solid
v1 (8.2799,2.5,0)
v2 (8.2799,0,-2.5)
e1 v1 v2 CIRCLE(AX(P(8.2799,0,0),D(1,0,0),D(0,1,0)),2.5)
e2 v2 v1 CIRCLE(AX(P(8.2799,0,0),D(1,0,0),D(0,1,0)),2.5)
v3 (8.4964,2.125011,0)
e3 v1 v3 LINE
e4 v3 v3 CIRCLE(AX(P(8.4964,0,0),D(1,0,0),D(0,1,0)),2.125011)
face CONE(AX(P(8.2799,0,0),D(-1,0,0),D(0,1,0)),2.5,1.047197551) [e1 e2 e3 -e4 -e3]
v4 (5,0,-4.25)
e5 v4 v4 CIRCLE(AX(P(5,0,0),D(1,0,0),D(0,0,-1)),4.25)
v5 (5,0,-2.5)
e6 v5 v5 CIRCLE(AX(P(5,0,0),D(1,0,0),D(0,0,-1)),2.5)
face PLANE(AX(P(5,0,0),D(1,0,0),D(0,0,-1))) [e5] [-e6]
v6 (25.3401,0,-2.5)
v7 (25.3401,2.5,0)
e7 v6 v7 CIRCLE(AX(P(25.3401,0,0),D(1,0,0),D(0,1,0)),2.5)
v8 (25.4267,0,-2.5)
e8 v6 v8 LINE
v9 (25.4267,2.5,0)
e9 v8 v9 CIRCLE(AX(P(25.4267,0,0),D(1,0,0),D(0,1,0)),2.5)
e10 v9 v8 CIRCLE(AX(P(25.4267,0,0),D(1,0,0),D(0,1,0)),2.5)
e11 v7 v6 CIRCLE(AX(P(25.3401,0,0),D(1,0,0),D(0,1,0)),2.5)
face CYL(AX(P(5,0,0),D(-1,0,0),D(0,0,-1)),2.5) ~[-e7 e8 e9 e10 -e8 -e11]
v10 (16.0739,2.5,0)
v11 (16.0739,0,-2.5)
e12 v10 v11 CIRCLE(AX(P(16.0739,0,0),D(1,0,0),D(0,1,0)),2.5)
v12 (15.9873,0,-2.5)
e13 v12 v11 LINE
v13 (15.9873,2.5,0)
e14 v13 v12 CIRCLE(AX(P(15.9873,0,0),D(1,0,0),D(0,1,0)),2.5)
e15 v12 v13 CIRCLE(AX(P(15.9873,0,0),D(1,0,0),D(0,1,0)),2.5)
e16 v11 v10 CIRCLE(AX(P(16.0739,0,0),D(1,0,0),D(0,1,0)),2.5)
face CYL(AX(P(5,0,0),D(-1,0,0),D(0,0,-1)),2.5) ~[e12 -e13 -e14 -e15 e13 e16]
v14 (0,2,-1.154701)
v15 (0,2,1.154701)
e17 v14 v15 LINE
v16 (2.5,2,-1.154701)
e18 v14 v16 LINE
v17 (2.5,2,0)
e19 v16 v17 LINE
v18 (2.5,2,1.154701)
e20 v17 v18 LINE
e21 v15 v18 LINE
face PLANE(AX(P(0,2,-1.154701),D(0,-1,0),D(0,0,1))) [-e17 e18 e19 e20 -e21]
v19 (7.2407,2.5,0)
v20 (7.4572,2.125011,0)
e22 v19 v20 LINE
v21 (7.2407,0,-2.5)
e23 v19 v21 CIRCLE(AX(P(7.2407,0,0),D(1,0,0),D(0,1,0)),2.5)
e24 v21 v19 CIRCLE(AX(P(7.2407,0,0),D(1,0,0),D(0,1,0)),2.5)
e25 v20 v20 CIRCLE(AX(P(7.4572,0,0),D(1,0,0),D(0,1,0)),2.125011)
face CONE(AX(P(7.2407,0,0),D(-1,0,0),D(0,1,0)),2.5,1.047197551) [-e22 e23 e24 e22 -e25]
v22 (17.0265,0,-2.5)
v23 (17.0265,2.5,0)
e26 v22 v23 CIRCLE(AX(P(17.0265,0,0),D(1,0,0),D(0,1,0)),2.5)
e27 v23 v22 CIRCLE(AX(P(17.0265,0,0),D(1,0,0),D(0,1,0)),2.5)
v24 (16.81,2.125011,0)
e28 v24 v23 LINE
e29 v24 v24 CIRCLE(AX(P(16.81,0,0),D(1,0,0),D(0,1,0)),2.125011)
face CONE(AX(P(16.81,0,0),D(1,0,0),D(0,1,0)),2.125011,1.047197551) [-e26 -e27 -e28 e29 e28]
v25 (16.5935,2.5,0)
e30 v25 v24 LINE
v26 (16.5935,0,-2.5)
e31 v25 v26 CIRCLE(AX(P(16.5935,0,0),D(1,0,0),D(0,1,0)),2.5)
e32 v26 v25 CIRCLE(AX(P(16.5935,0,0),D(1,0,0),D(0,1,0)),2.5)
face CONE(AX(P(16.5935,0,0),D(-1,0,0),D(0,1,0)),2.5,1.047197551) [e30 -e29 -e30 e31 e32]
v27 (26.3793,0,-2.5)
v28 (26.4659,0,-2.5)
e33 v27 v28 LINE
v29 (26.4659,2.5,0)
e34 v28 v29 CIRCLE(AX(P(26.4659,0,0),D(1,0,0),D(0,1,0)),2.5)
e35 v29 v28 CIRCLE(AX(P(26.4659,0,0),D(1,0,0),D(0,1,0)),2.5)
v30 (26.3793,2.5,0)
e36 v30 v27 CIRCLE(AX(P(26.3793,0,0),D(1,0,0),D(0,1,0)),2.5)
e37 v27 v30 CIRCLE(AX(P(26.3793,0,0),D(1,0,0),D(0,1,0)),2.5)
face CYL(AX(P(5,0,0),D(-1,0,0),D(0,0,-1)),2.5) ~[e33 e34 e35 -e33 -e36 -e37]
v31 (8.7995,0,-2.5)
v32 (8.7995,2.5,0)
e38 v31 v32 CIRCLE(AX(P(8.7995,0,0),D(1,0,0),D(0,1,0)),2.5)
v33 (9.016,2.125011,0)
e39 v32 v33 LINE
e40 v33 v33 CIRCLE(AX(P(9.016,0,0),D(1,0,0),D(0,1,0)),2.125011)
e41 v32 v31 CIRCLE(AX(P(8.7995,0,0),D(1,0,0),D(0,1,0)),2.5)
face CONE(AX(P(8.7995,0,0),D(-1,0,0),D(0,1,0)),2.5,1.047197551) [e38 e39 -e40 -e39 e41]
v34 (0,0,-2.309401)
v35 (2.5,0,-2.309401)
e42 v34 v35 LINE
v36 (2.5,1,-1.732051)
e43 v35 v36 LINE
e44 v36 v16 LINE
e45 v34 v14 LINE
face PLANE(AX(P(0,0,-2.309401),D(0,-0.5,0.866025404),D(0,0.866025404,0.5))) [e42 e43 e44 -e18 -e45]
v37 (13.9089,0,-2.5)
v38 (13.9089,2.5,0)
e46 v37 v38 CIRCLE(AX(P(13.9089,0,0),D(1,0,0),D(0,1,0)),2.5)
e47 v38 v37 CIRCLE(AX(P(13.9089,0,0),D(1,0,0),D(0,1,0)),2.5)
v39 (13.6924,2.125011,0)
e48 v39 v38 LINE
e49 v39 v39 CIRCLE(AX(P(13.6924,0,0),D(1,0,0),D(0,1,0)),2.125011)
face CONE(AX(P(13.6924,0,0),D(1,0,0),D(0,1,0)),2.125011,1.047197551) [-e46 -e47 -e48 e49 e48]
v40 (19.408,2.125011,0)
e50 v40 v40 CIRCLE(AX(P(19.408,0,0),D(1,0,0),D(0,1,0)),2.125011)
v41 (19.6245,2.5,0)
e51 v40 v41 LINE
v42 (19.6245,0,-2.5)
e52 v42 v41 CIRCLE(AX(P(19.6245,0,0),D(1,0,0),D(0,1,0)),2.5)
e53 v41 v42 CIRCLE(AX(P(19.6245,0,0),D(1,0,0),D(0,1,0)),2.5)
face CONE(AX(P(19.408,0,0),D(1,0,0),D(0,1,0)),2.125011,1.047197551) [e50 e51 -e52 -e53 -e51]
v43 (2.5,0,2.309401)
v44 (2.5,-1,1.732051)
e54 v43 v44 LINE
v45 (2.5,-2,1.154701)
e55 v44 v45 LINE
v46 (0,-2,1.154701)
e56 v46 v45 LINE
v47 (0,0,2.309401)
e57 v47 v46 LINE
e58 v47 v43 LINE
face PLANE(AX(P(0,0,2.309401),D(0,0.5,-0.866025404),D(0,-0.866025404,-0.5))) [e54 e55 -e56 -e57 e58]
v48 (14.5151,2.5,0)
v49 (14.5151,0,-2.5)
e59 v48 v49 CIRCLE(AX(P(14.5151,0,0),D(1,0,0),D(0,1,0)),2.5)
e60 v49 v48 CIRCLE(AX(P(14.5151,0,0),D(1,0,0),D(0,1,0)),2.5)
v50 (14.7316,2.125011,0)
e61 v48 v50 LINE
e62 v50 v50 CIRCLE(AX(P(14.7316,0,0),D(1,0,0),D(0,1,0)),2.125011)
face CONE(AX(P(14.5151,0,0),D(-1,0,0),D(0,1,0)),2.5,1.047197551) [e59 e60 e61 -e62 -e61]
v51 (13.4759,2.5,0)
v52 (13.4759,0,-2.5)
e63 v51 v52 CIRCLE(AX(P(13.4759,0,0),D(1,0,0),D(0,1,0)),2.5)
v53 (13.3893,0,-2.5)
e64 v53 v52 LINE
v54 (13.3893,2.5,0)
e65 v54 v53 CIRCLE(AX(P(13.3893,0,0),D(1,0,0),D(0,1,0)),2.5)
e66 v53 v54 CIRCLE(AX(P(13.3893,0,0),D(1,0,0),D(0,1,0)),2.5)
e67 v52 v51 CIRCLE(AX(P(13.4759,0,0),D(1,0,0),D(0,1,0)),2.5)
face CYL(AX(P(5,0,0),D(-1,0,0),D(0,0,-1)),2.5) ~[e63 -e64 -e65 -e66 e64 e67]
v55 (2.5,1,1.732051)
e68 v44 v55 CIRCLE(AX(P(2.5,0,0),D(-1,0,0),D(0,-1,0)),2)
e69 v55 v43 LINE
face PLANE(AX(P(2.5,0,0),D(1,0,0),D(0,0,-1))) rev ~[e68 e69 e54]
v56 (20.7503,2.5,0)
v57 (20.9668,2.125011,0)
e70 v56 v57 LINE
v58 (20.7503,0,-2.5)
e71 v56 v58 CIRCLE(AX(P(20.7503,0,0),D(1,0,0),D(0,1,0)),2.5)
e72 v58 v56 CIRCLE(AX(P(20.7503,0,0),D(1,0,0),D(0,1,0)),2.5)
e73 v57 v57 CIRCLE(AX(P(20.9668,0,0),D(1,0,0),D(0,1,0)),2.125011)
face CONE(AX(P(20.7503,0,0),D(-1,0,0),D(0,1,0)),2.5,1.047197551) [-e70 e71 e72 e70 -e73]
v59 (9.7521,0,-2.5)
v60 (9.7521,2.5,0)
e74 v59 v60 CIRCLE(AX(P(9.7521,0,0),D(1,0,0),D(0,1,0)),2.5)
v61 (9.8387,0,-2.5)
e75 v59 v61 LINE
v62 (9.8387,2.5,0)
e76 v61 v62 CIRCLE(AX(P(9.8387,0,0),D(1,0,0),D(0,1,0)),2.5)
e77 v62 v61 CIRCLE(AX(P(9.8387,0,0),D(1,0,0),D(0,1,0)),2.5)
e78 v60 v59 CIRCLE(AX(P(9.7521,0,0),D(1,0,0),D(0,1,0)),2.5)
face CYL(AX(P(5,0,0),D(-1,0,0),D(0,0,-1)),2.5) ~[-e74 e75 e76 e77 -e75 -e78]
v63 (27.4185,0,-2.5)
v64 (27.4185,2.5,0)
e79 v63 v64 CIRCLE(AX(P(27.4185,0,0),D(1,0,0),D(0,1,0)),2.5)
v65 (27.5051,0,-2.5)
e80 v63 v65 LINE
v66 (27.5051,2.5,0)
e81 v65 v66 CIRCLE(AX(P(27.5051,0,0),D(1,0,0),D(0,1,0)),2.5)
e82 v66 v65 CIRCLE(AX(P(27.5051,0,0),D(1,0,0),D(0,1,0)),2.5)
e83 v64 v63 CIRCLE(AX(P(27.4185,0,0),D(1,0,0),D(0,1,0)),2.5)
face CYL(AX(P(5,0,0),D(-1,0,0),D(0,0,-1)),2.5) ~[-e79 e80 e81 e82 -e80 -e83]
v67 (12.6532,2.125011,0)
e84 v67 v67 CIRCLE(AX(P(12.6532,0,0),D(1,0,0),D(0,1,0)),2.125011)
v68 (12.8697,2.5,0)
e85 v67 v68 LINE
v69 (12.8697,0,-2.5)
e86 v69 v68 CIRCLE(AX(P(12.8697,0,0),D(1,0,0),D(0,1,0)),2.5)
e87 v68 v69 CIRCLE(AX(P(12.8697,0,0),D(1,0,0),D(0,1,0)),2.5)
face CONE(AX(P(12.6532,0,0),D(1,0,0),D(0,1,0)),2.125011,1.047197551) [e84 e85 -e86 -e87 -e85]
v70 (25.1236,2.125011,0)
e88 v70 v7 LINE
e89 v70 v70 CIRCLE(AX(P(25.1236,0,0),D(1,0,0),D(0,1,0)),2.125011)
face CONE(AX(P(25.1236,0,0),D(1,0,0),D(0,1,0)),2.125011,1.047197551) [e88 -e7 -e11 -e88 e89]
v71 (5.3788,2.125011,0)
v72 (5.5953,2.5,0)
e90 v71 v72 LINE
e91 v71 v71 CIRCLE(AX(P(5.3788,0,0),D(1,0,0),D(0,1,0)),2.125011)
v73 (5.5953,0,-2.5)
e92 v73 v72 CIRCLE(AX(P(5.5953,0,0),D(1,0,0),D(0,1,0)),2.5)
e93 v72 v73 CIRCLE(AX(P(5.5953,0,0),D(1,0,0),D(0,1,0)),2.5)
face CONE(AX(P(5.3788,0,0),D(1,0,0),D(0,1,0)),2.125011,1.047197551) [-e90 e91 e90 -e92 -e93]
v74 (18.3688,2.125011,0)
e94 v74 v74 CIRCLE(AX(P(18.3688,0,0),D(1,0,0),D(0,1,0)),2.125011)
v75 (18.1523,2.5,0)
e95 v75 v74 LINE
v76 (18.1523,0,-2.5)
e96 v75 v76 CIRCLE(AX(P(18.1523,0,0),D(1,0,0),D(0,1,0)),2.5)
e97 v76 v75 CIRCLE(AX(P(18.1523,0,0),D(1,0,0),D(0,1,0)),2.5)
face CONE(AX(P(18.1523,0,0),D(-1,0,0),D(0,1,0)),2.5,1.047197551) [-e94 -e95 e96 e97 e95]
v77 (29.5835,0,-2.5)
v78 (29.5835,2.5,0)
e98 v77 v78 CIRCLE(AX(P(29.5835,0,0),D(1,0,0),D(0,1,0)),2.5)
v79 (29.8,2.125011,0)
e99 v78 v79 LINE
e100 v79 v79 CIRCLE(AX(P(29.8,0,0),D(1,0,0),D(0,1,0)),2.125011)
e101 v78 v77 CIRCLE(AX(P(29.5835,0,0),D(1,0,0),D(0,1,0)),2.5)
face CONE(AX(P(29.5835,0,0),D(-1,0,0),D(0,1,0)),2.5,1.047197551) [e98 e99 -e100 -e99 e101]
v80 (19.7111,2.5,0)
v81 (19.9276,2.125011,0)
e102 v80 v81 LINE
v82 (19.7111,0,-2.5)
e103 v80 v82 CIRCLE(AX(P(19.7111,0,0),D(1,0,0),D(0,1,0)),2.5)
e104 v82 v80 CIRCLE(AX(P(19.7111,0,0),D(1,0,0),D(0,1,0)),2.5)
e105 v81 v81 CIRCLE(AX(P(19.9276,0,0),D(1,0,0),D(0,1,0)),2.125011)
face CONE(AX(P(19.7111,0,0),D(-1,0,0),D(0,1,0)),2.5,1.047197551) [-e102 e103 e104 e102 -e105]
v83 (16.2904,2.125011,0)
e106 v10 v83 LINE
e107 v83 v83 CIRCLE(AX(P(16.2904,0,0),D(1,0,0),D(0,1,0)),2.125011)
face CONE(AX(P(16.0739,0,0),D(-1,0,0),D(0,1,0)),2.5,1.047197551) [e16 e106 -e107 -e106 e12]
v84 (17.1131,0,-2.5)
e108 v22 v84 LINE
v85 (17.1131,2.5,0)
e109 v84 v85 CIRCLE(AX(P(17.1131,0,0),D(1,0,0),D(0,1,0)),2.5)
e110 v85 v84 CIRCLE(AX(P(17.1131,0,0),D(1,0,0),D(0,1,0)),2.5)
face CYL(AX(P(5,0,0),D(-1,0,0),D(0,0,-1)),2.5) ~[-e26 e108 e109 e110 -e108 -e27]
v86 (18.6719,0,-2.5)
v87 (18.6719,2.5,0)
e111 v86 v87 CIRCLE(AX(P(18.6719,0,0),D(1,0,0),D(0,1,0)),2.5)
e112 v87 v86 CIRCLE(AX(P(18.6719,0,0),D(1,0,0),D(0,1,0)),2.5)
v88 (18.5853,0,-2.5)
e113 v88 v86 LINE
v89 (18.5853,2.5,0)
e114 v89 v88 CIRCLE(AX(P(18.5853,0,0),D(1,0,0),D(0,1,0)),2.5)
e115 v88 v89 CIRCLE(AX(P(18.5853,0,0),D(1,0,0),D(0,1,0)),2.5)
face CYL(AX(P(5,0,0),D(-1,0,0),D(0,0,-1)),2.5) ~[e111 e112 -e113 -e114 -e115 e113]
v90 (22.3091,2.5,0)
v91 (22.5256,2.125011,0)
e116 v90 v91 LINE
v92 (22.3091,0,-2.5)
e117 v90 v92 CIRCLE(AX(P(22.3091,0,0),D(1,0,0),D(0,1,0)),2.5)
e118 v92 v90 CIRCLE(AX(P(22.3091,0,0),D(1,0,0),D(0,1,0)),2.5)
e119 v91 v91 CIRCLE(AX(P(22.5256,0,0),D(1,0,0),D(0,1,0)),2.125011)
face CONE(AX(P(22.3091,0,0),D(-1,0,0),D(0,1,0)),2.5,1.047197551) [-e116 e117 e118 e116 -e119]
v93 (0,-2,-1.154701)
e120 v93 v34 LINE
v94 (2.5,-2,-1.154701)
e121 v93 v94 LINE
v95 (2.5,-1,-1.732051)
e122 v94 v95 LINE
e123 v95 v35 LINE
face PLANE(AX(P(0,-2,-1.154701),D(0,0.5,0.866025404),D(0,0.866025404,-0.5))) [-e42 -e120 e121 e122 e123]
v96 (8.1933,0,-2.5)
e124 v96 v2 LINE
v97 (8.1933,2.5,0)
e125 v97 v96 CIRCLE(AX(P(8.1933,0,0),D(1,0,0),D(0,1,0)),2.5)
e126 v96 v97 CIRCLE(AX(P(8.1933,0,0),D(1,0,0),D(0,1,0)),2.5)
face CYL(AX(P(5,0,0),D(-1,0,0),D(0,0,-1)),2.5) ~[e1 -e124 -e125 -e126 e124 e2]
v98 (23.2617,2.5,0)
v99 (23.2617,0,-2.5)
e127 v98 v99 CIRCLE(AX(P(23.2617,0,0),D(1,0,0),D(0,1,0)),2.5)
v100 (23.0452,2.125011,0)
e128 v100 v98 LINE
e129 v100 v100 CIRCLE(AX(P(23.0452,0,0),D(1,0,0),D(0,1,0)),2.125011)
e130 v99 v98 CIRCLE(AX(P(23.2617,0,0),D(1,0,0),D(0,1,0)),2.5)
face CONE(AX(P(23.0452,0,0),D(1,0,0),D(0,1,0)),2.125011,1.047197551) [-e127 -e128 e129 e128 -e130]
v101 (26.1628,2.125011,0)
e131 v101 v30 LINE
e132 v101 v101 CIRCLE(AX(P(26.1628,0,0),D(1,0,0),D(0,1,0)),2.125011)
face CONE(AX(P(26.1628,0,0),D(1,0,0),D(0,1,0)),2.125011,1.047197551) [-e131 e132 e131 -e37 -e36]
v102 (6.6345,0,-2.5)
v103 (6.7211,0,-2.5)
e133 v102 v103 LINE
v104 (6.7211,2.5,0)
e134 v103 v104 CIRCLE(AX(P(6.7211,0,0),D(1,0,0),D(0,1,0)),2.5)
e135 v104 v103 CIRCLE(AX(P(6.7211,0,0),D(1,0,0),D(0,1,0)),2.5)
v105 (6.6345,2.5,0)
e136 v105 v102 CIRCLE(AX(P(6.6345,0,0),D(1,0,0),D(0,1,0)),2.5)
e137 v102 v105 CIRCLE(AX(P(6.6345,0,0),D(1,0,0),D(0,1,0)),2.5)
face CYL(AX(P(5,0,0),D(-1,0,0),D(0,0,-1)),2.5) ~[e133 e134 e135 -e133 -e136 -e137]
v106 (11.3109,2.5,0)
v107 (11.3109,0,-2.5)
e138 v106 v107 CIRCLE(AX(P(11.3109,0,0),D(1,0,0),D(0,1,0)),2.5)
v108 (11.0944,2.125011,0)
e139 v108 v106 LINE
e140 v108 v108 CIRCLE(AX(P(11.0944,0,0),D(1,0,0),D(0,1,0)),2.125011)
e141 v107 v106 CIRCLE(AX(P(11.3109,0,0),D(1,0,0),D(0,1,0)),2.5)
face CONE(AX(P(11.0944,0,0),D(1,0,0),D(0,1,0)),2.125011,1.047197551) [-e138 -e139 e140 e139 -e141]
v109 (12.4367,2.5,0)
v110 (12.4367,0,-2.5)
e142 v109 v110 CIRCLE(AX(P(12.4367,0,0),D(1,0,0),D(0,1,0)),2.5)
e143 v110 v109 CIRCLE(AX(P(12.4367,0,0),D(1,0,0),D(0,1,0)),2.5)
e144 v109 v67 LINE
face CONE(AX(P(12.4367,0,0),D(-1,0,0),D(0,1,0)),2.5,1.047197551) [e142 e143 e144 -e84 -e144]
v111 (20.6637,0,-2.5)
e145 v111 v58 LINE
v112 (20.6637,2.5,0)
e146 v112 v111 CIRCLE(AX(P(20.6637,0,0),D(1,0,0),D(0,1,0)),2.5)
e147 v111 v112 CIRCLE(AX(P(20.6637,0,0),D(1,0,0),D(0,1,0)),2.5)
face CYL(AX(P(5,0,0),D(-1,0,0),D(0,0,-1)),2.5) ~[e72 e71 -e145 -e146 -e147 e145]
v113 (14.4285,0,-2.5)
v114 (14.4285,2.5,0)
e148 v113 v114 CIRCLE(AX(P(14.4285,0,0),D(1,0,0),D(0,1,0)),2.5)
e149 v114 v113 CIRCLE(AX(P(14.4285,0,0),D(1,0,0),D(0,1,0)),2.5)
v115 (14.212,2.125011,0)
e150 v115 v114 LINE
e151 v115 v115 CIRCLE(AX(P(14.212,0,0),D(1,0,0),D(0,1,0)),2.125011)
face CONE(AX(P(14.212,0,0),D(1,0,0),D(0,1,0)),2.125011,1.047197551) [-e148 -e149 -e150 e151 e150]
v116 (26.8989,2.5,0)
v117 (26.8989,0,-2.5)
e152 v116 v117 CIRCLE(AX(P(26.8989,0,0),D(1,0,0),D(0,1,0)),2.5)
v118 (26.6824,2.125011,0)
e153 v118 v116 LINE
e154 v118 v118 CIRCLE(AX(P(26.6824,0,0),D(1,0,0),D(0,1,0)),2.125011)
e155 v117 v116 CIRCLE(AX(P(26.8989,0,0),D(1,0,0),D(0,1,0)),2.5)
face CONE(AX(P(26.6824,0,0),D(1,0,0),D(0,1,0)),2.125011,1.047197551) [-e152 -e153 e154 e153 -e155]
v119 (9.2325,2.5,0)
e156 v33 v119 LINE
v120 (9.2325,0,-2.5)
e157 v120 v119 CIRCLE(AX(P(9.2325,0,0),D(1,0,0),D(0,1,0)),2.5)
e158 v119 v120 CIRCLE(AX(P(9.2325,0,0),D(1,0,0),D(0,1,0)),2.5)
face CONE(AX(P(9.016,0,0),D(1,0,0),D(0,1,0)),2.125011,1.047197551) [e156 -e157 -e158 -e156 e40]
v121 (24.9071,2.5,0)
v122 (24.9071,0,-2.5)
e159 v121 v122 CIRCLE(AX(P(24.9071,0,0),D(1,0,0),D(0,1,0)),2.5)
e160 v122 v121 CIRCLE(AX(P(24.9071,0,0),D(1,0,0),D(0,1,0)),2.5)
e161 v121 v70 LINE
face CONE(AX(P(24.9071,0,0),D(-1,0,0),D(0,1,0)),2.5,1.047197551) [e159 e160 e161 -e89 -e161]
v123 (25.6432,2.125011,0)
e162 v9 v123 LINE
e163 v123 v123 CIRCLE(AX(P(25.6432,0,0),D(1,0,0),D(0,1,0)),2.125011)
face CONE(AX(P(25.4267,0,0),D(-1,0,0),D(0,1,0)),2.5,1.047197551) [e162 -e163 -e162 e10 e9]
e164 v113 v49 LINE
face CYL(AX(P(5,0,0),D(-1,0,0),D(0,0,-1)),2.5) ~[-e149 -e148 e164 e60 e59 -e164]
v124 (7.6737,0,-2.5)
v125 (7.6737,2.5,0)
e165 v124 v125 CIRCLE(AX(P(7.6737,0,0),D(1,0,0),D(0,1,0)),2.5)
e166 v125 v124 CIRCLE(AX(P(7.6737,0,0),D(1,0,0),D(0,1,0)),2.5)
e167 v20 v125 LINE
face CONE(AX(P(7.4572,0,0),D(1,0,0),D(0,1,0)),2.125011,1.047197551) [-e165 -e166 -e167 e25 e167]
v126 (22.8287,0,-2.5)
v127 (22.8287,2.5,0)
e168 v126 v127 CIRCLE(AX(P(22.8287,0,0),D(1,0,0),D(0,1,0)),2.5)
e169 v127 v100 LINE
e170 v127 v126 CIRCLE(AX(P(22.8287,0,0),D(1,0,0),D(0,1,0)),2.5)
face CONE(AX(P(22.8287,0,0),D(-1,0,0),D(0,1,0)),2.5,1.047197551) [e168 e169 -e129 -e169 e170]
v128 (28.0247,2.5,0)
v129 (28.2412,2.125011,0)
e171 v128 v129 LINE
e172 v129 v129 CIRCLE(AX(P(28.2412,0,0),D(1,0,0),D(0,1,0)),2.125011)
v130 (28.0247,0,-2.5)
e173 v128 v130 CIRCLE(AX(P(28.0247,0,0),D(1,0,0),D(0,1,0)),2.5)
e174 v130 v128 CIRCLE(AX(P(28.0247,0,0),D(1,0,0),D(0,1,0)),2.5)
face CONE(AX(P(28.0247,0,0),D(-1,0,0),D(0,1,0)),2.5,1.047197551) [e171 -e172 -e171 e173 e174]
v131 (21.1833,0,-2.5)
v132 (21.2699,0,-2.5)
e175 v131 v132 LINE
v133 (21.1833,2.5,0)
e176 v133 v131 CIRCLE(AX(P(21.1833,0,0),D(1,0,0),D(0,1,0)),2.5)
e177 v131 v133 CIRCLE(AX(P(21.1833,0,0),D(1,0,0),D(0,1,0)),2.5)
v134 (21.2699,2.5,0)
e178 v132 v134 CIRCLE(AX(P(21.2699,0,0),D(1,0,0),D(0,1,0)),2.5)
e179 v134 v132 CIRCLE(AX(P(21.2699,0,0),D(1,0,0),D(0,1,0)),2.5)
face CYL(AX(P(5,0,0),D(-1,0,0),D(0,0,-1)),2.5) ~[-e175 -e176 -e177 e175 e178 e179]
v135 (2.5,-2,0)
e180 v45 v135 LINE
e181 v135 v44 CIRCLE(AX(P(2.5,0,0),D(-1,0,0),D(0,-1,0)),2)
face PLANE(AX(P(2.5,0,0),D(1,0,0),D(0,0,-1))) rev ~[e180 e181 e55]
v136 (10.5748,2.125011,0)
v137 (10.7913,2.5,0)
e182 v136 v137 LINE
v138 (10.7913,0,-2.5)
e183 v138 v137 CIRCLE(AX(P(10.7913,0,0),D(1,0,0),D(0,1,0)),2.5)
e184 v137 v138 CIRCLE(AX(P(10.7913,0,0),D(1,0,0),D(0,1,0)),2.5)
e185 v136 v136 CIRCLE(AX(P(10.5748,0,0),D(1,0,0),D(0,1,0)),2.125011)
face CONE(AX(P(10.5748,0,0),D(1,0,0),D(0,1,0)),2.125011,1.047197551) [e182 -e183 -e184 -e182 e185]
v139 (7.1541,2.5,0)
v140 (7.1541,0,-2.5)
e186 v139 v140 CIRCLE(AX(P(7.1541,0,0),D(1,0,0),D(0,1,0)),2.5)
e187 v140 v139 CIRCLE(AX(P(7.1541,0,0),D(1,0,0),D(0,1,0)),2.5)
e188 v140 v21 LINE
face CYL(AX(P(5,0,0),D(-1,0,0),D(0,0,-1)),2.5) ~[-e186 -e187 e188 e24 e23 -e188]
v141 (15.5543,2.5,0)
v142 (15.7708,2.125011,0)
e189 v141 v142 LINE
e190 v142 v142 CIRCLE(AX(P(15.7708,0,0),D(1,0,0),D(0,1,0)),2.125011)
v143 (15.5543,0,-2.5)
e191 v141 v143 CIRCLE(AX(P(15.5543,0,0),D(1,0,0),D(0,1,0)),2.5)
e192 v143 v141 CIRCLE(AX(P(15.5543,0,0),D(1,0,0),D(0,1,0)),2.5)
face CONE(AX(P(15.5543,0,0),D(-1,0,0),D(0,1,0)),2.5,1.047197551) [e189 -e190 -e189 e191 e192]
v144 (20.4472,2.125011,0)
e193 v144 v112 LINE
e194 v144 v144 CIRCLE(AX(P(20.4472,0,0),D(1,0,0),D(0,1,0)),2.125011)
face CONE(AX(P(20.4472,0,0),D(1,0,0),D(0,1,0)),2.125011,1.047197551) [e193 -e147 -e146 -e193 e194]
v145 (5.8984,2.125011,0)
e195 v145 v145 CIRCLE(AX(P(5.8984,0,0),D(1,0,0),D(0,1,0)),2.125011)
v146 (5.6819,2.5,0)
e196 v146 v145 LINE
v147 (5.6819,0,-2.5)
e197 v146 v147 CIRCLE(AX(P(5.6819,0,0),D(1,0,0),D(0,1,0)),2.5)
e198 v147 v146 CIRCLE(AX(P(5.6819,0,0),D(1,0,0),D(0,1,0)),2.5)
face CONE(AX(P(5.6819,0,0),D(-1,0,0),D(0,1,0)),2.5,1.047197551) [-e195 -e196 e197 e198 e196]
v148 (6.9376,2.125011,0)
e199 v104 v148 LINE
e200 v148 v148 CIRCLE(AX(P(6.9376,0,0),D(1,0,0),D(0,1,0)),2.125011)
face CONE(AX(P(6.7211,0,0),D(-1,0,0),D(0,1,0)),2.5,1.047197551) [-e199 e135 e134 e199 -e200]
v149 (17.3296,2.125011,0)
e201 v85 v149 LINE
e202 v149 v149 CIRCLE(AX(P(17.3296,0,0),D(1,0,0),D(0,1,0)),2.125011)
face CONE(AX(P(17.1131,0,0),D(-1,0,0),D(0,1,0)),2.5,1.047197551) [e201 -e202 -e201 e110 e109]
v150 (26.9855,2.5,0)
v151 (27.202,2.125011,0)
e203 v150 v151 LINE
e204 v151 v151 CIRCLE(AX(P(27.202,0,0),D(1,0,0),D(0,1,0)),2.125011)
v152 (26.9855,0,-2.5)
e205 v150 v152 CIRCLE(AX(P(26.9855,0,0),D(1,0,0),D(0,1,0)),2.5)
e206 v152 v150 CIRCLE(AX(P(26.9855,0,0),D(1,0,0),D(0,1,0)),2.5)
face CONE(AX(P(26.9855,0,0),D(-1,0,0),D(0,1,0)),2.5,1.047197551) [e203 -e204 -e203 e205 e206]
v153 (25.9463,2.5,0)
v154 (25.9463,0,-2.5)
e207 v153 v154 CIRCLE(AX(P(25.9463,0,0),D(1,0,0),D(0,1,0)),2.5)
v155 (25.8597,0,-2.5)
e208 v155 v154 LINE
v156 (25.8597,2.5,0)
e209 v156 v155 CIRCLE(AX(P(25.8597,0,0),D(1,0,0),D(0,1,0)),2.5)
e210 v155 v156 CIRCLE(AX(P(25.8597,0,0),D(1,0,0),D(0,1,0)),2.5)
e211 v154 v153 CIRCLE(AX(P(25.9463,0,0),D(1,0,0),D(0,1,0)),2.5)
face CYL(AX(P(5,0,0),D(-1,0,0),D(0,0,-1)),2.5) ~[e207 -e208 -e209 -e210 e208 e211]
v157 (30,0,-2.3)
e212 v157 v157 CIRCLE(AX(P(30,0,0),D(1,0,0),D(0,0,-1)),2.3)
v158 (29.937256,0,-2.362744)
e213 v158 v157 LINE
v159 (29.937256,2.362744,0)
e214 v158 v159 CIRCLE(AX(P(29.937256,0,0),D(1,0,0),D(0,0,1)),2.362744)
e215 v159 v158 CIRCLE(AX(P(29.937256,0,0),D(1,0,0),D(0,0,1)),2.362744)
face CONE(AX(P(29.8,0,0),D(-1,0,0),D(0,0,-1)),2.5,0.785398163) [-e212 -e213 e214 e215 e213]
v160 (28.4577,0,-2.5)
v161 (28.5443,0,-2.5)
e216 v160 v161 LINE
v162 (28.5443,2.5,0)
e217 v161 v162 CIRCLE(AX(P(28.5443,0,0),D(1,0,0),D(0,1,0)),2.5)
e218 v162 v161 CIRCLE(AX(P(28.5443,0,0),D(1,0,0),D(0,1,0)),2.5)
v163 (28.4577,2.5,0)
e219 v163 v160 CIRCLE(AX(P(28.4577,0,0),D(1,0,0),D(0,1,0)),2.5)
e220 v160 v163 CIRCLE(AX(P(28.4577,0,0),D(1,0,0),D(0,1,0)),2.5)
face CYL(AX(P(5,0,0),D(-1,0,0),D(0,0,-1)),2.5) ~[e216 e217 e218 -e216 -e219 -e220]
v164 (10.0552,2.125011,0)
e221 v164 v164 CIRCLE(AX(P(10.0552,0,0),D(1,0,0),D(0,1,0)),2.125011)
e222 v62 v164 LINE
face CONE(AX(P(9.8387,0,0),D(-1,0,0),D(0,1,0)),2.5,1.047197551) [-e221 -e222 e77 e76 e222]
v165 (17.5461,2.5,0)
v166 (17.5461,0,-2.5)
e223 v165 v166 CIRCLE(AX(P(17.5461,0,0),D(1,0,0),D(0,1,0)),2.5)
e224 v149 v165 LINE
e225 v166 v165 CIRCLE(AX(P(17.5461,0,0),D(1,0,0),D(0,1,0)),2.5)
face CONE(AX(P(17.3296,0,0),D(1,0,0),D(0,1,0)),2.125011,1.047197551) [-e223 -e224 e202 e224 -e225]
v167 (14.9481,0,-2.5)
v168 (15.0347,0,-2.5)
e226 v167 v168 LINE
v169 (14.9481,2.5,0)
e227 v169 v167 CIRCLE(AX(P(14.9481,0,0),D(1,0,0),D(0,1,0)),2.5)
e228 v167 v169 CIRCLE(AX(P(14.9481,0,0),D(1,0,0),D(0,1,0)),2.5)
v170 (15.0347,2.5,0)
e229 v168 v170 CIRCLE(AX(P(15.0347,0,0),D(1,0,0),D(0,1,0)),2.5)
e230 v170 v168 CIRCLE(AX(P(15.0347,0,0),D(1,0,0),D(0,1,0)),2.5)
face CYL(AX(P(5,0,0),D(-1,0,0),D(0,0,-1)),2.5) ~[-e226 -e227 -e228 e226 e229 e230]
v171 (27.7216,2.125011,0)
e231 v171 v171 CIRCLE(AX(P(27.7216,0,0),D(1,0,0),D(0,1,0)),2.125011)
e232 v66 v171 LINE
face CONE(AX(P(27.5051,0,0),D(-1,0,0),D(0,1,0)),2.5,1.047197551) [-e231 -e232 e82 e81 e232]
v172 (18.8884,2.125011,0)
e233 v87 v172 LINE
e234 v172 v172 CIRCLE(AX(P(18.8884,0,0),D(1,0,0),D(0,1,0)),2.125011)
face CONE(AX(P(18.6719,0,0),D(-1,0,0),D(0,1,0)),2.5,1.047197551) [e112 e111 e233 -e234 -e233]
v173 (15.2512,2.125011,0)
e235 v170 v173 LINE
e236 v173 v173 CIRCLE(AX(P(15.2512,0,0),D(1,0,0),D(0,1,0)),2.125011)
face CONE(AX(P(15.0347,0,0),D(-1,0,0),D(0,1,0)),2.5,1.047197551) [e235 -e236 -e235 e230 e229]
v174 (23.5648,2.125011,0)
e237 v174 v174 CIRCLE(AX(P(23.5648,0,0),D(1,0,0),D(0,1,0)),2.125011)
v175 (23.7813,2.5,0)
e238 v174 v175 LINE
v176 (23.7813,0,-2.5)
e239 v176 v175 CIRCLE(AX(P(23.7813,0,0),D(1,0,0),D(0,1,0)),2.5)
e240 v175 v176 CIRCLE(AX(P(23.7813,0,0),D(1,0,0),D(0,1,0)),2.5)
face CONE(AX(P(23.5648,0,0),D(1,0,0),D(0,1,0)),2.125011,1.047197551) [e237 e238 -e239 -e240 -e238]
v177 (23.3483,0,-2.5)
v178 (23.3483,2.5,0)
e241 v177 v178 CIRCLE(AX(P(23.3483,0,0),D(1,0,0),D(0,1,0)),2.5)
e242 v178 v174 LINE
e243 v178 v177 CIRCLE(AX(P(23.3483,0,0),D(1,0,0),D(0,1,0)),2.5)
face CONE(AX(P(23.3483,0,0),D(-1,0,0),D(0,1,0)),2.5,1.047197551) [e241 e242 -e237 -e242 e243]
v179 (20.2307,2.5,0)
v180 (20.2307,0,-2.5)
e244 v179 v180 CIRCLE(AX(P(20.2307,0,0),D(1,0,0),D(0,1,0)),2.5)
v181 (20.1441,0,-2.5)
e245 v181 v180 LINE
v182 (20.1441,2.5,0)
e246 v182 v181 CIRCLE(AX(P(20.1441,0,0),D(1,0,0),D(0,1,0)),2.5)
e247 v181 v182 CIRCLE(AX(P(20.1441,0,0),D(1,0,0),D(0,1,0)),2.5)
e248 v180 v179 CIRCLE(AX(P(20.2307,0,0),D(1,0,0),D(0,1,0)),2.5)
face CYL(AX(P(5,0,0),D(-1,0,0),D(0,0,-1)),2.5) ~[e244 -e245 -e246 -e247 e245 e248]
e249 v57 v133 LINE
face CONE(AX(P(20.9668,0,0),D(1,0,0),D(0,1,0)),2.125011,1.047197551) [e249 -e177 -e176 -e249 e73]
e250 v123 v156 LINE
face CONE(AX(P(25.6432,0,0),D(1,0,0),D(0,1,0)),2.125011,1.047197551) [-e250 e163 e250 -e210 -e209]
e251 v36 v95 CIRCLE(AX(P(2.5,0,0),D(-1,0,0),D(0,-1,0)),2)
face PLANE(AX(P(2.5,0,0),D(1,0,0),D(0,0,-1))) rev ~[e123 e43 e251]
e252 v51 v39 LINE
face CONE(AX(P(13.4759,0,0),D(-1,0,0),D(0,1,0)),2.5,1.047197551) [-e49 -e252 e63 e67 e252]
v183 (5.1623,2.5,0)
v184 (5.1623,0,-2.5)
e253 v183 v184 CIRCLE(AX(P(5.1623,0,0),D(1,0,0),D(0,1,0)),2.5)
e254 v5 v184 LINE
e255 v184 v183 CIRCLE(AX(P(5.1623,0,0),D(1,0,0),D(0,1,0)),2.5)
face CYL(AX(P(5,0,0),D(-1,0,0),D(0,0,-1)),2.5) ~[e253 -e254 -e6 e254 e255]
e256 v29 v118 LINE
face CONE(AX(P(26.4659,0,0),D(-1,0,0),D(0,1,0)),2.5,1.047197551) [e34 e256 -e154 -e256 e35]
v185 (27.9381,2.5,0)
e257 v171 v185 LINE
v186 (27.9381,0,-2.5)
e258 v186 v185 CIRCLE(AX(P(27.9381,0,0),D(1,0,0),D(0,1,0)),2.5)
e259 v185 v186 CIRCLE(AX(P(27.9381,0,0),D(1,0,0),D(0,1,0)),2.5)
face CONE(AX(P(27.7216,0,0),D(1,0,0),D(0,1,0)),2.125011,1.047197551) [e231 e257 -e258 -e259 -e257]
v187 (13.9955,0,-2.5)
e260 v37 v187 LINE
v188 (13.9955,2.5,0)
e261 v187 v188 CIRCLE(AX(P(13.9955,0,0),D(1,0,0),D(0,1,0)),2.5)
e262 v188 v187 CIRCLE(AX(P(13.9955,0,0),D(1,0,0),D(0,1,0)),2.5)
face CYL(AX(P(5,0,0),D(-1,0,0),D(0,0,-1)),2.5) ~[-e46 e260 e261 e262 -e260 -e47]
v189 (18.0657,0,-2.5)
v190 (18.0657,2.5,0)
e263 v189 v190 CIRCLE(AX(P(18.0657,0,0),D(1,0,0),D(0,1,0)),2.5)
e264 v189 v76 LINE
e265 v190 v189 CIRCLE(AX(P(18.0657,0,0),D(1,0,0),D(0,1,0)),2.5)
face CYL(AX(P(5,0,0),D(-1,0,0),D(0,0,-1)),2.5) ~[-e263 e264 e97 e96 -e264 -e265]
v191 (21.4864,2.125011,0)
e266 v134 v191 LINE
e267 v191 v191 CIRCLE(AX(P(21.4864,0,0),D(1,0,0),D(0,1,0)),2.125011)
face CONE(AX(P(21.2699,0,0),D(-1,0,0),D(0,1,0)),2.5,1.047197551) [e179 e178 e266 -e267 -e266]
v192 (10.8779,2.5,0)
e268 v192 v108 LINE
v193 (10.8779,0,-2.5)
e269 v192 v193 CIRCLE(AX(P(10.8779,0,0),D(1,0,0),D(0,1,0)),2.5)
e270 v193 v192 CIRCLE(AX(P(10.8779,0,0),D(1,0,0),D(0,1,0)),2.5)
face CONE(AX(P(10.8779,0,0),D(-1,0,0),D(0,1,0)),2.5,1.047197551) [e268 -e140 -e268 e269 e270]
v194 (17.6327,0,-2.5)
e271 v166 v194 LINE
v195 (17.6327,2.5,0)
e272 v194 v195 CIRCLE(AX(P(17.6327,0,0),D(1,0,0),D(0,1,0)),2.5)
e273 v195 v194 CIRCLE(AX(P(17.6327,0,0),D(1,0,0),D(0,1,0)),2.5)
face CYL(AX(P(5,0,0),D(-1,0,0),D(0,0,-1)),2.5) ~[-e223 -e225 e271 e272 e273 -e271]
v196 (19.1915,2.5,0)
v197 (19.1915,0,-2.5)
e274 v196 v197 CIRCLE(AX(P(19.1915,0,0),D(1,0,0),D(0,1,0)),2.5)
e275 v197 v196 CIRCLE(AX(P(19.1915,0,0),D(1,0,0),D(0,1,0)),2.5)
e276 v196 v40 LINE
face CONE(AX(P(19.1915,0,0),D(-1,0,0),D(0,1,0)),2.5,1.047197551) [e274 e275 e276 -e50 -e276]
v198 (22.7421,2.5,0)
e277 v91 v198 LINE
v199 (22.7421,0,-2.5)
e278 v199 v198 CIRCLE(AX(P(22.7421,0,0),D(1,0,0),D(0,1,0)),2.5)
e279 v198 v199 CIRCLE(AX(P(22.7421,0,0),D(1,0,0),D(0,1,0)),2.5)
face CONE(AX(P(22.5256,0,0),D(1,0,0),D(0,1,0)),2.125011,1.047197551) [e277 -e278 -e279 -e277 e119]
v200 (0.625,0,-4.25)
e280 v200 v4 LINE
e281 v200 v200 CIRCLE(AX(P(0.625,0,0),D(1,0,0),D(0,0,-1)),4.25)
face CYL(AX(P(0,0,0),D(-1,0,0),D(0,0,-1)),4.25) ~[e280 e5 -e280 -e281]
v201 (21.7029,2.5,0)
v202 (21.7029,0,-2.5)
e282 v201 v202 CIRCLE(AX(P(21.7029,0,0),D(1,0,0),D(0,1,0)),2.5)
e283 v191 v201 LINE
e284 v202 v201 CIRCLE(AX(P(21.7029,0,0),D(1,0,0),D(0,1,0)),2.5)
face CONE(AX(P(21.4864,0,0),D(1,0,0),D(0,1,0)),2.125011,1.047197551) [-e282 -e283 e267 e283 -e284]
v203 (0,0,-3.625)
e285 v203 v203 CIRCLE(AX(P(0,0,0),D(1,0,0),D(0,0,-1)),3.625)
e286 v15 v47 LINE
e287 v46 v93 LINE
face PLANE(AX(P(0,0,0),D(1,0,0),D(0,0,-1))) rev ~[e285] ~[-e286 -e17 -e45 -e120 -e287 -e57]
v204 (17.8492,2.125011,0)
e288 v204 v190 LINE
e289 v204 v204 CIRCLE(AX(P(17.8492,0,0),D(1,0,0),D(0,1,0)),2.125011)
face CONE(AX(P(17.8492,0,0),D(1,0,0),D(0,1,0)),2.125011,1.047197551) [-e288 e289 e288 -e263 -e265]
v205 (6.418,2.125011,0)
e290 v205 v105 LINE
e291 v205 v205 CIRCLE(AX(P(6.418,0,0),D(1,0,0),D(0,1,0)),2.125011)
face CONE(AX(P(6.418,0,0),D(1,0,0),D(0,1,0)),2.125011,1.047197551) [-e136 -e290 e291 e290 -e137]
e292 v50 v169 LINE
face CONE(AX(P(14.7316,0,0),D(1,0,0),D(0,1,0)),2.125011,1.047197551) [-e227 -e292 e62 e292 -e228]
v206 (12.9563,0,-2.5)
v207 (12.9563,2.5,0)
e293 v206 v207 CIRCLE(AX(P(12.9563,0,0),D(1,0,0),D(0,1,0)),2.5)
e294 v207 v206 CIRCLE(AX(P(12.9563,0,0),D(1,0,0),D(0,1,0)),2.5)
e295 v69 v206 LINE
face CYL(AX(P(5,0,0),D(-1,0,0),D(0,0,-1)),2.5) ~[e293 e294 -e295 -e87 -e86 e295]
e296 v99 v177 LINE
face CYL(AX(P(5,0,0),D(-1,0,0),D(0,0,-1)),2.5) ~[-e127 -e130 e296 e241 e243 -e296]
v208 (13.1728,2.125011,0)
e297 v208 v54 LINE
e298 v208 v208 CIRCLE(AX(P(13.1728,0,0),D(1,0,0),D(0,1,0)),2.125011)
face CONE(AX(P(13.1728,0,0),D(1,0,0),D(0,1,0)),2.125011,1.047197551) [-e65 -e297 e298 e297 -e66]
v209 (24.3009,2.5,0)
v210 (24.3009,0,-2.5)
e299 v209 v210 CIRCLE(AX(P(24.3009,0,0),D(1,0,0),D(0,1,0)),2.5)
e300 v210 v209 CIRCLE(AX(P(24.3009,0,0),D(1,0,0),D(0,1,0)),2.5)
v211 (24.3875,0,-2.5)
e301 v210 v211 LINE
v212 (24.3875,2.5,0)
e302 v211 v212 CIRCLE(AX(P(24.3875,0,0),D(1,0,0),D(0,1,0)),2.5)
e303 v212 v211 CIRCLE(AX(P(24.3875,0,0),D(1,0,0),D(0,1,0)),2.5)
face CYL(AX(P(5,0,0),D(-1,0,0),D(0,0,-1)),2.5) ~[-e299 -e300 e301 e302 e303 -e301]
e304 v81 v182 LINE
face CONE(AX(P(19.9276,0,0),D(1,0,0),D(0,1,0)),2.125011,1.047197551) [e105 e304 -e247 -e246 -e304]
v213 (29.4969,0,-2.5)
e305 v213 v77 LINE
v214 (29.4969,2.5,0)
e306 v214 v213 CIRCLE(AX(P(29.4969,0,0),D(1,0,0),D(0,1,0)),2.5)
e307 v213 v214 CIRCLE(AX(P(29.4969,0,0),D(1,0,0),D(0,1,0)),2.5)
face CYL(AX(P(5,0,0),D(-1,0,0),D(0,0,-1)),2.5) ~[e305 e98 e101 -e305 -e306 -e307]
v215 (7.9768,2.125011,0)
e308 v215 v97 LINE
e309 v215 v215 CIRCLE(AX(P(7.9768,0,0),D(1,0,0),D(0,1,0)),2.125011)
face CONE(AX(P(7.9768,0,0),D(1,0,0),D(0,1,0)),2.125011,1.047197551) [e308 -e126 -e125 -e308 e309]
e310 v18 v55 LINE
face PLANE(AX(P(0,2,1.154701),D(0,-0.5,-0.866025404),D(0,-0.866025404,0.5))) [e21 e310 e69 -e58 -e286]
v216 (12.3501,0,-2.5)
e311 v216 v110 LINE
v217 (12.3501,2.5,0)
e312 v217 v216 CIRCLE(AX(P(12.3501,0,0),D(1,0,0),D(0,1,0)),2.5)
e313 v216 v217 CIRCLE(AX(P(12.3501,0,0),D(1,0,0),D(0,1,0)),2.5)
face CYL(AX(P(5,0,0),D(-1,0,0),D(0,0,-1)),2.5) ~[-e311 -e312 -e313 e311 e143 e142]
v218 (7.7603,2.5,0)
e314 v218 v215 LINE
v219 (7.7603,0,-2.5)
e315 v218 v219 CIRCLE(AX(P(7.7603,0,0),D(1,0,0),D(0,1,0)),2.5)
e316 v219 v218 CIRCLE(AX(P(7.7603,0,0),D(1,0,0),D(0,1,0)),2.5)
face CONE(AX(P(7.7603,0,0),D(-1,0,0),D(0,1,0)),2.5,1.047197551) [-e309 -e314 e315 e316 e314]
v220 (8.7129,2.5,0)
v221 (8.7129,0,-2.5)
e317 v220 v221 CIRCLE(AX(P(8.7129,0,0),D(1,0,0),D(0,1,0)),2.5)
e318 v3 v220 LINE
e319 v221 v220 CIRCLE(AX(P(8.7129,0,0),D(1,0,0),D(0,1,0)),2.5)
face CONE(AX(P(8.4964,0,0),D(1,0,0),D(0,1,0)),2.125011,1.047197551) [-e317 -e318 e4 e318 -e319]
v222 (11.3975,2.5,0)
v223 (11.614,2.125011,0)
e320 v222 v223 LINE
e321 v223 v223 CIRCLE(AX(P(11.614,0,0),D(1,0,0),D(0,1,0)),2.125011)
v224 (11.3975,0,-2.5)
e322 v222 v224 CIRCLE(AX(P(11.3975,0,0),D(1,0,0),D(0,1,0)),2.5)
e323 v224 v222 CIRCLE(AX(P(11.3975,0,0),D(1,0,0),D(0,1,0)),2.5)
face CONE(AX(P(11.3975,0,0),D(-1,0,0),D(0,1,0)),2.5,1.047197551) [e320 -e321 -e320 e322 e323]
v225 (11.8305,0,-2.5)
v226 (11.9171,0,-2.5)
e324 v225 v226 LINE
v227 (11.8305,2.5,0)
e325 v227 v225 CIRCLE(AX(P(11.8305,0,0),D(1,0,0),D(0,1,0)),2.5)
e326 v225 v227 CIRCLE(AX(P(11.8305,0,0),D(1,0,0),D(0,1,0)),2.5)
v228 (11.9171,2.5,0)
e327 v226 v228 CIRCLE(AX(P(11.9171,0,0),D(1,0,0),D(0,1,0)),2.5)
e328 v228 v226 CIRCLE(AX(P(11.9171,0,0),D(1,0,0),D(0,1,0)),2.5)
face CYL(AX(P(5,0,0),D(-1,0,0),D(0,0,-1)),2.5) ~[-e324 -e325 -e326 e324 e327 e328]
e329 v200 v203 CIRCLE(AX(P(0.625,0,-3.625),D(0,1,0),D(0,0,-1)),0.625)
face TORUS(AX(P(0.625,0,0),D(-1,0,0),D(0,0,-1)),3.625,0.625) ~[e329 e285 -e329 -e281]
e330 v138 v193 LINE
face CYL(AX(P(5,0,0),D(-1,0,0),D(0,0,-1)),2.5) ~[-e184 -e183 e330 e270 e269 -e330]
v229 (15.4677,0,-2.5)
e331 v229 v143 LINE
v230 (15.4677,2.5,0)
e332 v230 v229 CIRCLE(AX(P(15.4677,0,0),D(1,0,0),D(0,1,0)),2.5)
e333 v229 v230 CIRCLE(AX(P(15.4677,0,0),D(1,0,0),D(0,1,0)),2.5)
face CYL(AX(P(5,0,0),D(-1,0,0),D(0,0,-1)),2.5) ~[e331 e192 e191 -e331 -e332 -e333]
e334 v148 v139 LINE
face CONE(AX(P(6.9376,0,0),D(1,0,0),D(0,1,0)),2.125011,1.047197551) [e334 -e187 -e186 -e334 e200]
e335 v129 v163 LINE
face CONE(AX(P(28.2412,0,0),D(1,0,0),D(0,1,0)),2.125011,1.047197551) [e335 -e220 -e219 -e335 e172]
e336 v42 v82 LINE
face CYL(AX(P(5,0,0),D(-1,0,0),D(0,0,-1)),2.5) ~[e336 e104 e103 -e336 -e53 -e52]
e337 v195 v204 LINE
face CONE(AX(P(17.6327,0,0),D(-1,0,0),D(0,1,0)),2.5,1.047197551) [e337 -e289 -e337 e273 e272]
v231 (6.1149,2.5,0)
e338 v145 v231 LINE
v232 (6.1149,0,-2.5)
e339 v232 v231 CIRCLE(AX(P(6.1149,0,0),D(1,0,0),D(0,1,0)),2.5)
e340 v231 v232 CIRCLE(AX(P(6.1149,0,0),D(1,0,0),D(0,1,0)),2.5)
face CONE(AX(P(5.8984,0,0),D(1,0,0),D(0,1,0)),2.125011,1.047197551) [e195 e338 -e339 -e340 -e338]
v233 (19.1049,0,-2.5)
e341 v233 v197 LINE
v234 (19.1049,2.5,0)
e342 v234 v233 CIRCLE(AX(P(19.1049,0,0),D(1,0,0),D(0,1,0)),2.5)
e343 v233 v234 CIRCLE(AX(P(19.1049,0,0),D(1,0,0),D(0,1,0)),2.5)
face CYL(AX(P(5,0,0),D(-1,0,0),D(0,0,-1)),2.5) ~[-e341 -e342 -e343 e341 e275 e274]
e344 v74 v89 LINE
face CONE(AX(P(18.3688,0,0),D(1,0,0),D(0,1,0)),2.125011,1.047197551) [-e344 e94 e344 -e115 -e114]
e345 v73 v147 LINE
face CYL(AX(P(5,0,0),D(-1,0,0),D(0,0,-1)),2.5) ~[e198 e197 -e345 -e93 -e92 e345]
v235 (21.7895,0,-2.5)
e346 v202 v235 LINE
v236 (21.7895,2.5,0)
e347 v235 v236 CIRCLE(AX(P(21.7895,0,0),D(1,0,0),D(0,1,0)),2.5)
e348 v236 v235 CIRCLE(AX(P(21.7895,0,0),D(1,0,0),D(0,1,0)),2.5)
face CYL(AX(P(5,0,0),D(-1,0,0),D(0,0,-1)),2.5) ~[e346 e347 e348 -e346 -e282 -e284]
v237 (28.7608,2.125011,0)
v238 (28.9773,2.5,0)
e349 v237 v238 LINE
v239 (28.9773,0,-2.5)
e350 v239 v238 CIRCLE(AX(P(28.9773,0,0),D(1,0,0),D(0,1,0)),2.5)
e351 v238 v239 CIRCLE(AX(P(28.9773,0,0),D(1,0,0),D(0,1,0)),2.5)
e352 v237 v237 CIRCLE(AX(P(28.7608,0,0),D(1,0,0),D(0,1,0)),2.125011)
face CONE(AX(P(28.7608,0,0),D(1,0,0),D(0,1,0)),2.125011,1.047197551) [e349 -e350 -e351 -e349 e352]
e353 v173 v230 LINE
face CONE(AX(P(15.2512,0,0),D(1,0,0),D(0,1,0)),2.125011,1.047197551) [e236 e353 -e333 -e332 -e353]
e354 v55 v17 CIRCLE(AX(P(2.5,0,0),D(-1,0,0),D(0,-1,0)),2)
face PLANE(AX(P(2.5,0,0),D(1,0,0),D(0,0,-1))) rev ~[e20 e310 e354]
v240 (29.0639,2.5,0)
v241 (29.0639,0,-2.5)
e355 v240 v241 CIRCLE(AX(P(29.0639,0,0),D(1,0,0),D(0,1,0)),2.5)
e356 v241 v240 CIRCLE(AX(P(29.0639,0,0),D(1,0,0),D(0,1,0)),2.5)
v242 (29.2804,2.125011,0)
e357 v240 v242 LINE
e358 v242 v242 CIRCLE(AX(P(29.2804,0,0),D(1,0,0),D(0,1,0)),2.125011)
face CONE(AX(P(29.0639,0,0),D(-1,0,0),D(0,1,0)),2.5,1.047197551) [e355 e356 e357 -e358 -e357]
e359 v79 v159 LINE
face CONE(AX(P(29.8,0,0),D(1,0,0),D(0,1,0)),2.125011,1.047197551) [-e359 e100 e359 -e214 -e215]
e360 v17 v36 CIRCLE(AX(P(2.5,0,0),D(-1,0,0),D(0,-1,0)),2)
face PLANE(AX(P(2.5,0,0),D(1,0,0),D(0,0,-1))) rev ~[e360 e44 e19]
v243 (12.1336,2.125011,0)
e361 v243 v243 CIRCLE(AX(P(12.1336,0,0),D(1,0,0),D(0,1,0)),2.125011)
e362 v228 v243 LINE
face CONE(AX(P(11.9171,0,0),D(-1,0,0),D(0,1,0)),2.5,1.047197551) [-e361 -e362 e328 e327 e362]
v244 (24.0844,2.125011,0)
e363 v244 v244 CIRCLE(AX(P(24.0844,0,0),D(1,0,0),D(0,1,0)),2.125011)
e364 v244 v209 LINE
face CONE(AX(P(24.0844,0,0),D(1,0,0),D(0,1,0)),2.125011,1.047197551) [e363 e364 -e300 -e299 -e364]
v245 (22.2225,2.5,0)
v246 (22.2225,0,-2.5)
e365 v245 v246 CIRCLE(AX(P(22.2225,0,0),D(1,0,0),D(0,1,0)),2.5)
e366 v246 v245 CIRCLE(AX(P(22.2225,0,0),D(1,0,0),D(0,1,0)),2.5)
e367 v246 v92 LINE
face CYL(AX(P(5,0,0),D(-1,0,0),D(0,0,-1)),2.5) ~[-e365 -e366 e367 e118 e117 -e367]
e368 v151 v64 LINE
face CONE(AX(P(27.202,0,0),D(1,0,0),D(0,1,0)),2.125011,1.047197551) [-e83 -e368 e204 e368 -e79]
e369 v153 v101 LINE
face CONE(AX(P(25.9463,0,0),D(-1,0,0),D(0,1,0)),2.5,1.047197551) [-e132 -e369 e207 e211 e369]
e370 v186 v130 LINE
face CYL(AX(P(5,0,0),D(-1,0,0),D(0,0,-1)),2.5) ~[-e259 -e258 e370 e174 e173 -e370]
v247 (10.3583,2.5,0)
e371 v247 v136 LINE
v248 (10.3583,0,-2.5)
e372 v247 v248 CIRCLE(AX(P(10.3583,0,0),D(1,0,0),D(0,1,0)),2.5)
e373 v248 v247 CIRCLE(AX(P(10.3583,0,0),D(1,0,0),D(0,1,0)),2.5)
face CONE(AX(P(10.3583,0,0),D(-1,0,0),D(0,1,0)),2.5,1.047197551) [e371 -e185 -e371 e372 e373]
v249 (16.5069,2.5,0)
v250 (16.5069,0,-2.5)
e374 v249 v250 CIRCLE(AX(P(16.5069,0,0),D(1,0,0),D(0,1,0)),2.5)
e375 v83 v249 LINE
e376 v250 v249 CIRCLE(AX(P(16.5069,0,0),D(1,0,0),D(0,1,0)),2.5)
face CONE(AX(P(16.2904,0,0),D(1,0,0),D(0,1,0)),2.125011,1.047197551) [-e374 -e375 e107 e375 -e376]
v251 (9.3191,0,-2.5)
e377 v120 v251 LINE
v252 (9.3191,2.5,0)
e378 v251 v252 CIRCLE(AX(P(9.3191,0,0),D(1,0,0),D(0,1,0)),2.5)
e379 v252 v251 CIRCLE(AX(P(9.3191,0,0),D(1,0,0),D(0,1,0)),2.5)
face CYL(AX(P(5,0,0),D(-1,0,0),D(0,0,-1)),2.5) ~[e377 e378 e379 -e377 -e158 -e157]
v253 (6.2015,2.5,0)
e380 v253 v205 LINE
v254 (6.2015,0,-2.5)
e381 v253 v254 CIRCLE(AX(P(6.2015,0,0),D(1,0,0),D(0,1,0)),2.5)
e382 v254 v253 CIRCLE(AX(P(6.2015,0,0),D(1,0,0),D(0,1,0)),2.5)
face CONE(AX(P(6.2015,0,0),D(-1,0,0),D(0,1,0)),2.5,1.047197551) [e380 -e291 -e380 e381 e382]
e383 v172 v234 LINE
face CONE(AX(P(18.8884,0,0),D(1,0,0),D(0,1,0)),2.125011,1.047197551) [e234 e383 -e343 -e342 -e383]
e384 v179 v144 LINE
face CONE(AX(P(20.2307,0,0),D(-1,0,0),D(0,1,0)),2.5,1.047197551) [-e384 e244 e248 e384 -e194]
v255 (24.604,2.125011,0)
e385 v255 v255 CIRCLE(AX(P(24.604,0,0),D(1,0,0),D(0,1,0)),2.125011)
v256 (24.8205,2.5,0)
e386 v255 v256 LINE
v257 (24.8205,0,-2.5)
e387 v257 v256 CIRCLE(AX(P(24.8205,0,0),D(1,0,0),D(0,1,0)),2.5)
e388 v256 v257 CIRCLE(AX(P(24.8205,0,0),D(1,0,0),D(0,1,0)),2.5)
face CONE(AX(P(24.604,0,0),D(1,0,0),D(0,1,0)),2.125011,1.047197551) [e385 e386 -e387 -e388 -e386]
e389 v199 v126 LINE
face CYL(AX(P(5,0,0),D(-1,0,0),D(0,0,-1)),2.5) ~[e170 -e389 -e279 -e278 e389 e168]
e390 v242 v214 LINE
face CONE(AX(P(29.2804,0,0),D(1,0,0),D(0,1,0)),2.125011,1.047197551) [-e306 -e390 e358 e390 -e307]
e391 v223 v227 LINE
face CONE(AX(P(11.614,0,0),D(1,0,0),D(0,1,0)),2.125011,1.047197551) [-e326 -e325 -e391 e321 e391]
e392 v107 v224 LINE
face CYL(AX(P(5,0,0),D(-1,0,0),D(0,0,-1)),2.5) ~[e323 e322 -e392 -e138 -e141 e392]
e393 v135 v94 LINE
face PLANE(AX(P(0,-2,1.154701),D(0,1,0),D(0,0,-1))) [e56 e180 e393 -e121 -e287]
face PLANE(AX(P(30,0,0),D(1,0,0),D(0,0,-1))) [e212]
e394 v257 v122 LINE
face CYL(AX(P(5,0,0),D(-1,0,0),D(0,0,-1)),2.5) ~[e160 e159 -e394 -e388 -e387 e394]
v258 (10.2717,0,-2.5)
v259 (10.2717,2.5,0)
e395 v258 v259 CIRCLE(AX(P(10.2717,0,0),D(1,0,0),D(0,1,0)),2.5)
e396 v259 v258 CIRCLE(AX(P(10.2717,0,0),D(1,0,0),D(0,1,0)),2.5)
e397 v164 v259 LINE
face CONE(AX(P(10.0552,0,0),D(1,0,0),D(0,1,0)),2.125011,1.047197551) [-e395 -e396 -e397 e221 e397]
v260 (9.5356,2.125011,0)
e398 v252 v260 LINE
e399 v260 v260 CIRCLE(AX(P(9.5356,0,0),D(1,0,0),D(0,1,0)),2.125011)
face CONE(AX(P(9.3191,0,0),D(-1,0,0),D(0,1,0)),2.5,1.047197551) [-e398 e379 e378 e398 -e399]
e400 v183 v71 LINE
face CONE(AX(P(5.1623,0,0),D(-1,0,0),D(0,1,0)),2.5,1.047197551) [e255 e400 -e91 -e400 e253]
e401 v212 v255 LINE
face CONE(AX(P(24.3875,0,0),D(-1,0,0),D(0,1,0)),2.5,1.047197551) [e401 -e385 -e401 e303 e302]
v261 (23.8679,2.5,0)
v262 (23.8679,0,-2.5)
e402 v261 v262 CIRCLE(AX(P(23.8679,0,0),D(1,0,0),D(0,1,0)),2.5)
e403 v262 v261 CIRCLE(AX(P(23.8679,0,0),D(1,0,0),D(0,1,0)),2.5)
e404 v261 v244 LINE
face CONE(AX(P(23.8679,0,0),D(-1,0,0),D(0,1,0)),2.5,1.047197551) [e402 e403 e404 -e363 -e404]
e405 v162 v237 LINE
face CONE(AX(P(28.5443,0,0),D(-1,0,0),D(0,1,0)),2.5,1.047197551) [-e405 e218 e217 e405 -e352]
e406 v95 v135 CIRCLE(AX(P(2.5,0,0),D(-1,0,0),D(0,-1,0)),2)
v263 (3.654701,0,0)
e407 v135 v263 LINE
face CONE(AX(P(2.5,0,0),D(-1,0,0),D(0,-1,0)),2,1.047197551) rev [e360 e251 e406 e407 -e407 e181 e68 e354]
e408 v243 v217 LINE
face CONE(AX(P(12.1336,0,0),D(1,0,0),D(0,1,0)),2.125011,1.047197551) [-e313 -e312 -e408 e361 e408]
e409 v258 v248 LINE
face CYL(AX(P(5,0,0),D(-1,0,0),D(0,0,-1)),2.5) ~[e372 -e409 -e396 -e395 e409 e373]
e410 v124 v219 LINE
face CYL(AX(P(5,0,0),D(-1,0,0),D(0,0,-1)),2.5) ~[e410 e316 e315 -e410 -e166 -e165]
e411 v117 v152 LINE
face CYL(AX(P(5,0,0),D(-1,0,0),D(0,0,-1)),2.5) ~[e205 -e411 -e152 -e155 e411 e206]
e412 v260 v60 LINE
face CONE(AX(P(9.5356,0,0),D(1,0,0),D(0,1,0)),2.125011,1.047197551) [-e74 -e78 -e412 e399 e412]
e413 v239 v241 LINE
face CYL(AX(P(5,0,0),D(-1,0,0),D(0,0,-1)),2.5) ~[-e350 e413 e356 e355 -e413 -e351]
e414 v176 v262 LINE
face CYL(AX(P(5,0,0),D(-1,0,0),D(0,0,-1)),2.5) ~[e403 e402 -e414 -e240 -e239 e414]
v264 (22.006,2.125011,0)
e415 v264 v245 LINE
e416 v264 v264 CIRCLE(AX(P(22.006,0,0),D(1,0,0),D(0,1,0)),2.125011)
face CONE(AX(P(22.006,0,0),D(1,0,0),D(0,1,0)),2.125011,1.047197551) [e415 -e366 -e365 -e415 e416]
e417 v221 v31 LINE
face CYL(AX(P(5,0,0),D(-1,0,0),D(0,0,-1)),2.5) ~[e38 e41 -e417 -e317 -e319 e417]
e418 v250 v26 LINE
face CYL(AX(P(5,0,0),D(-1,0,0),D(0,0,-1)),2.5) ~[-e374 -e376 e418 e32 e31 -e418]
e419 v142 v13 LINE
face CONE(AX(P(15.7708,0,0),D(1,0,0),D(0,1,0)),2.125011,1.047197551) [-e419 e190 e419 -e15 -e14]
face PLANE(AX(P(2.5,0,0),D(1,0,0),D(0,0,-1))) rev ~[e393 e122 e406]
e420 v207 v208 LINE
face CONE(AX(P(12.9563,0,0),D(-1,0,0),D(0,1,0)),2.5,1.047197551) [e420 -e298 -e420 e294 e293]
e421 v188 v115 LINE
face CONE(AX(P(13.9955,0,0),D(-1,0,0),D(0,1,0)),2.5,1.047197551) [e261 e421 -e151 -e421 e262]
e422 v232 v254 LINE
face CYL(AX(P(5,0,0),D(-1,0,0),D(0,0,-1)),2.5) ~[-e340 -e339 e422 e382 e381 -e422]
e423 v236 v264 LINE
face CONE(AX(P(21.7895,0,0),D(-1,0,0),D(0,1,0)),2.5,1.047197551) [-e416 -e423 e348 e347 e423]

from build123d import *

# Parameters (mm, degrees)
SKETCH1_R           = 4.25
BASEHEAD_DEPTH      = 5
SKETCH2_R           = 2.5
BASEBODY_DEPTH      = 25
HEXAGONSOCKET_DEPTH = 2.5
TOPFILLET_R         = 0.625
CHAMFER1_SIZE       = 0.2
LPATTERN10_COUNT    = 48
LPATTERN10_PITCH    = 0.5196


with BuildPart() as part:
    # Sketch1 → BaseHead (new body)
    with BuildSketch(Plane(origin=(0, 0, 0), x_dir=(0, 0, -1), z_dir=(1, 0, 0))):
        Circle(SKETCH1_R)
    extrude(amount=BASEHEAD_DEPTH)

    # Sketch2 → BaseBody (add)
    with BuildSketch(Plane(origin=(5, 0, 0), x_dir=(0, 0, -1), z_dir=(1, 0, 0))):
        Circle(SKETCH2_R)
    extrude(amount=BASEBODY_DEPTH)

    # Sketch3 → HexagonSocket (cut)
    with BuildSketch(Plane(origin=(0, 0, 0), x_dir=(0, 0, -1), z_dir=(1, 0, 0))):
        Polygon((2.309401077, 0), (1.154700538, 2), (-1.154700538, 2), (-2.309401077, 0), (-1.154700538, -2), (1.154700538, -2), align=None)
    extrude(amount=HEXAGONSOCKET_DEPTH, mode=Mode.SUBTRACT)

    # Sketch4 → Cut-Revolve1 (revolve, cut)
    with BuildSketch(Plane(origin=(-4.19613823, 0.75, 0), x_dir=(-1, 0, 0), z_dir=(0, 0, 1))):
        Polygon((-6.69613823, 2.75), (-7.850838768, 0.75), (-6.69613823, 0.75), align=None)
    revolve(axis=Axis((0.838992387, 0, 0), (-1, 0, 0)), mode=Mode.SUBTRACT)

    # TopFillet
    topfillet_edges = [part.edges().sort_by_distance(p)[0] for p in [
        (0, 0, 4.25),
    ]]
    fillet(topfillet_edges, radius=TOPFILLET_R)

    # Chamfer1
    chamfer1_edges = [part.edges().sort_by_distance(p)[0] for p in [
        (30, 0, 2.5),
    ]]
    chamfer(chamfer1_edges, length=CHAMFER1_SIZE)

    # Sketch5 → Cut-Revolve10 (revolve, cut)
    with BuildSketch(Plane.XY):
        Polygon((29.8, 2.125011), (30.0165, 2.5), (30.0165, 2.933), (29.5835, 2.933), (29.5835, 2.5), align=None)
    cut_revolve10 = revolve(axis=Axis((0, 0, 0), (1, 0, 0)), mode=Mode.SUBTRACT)

    # LPattern10: Cut-Revolve10 ×48
    with Locations(*[(-i * LPATTERN10_PITCH, 0, 0) for i in range(1, LPATTERN10_COUNT)]):
        add(cut_revolve10, mode=Mode.SUBTRACT)


solid = part.part
